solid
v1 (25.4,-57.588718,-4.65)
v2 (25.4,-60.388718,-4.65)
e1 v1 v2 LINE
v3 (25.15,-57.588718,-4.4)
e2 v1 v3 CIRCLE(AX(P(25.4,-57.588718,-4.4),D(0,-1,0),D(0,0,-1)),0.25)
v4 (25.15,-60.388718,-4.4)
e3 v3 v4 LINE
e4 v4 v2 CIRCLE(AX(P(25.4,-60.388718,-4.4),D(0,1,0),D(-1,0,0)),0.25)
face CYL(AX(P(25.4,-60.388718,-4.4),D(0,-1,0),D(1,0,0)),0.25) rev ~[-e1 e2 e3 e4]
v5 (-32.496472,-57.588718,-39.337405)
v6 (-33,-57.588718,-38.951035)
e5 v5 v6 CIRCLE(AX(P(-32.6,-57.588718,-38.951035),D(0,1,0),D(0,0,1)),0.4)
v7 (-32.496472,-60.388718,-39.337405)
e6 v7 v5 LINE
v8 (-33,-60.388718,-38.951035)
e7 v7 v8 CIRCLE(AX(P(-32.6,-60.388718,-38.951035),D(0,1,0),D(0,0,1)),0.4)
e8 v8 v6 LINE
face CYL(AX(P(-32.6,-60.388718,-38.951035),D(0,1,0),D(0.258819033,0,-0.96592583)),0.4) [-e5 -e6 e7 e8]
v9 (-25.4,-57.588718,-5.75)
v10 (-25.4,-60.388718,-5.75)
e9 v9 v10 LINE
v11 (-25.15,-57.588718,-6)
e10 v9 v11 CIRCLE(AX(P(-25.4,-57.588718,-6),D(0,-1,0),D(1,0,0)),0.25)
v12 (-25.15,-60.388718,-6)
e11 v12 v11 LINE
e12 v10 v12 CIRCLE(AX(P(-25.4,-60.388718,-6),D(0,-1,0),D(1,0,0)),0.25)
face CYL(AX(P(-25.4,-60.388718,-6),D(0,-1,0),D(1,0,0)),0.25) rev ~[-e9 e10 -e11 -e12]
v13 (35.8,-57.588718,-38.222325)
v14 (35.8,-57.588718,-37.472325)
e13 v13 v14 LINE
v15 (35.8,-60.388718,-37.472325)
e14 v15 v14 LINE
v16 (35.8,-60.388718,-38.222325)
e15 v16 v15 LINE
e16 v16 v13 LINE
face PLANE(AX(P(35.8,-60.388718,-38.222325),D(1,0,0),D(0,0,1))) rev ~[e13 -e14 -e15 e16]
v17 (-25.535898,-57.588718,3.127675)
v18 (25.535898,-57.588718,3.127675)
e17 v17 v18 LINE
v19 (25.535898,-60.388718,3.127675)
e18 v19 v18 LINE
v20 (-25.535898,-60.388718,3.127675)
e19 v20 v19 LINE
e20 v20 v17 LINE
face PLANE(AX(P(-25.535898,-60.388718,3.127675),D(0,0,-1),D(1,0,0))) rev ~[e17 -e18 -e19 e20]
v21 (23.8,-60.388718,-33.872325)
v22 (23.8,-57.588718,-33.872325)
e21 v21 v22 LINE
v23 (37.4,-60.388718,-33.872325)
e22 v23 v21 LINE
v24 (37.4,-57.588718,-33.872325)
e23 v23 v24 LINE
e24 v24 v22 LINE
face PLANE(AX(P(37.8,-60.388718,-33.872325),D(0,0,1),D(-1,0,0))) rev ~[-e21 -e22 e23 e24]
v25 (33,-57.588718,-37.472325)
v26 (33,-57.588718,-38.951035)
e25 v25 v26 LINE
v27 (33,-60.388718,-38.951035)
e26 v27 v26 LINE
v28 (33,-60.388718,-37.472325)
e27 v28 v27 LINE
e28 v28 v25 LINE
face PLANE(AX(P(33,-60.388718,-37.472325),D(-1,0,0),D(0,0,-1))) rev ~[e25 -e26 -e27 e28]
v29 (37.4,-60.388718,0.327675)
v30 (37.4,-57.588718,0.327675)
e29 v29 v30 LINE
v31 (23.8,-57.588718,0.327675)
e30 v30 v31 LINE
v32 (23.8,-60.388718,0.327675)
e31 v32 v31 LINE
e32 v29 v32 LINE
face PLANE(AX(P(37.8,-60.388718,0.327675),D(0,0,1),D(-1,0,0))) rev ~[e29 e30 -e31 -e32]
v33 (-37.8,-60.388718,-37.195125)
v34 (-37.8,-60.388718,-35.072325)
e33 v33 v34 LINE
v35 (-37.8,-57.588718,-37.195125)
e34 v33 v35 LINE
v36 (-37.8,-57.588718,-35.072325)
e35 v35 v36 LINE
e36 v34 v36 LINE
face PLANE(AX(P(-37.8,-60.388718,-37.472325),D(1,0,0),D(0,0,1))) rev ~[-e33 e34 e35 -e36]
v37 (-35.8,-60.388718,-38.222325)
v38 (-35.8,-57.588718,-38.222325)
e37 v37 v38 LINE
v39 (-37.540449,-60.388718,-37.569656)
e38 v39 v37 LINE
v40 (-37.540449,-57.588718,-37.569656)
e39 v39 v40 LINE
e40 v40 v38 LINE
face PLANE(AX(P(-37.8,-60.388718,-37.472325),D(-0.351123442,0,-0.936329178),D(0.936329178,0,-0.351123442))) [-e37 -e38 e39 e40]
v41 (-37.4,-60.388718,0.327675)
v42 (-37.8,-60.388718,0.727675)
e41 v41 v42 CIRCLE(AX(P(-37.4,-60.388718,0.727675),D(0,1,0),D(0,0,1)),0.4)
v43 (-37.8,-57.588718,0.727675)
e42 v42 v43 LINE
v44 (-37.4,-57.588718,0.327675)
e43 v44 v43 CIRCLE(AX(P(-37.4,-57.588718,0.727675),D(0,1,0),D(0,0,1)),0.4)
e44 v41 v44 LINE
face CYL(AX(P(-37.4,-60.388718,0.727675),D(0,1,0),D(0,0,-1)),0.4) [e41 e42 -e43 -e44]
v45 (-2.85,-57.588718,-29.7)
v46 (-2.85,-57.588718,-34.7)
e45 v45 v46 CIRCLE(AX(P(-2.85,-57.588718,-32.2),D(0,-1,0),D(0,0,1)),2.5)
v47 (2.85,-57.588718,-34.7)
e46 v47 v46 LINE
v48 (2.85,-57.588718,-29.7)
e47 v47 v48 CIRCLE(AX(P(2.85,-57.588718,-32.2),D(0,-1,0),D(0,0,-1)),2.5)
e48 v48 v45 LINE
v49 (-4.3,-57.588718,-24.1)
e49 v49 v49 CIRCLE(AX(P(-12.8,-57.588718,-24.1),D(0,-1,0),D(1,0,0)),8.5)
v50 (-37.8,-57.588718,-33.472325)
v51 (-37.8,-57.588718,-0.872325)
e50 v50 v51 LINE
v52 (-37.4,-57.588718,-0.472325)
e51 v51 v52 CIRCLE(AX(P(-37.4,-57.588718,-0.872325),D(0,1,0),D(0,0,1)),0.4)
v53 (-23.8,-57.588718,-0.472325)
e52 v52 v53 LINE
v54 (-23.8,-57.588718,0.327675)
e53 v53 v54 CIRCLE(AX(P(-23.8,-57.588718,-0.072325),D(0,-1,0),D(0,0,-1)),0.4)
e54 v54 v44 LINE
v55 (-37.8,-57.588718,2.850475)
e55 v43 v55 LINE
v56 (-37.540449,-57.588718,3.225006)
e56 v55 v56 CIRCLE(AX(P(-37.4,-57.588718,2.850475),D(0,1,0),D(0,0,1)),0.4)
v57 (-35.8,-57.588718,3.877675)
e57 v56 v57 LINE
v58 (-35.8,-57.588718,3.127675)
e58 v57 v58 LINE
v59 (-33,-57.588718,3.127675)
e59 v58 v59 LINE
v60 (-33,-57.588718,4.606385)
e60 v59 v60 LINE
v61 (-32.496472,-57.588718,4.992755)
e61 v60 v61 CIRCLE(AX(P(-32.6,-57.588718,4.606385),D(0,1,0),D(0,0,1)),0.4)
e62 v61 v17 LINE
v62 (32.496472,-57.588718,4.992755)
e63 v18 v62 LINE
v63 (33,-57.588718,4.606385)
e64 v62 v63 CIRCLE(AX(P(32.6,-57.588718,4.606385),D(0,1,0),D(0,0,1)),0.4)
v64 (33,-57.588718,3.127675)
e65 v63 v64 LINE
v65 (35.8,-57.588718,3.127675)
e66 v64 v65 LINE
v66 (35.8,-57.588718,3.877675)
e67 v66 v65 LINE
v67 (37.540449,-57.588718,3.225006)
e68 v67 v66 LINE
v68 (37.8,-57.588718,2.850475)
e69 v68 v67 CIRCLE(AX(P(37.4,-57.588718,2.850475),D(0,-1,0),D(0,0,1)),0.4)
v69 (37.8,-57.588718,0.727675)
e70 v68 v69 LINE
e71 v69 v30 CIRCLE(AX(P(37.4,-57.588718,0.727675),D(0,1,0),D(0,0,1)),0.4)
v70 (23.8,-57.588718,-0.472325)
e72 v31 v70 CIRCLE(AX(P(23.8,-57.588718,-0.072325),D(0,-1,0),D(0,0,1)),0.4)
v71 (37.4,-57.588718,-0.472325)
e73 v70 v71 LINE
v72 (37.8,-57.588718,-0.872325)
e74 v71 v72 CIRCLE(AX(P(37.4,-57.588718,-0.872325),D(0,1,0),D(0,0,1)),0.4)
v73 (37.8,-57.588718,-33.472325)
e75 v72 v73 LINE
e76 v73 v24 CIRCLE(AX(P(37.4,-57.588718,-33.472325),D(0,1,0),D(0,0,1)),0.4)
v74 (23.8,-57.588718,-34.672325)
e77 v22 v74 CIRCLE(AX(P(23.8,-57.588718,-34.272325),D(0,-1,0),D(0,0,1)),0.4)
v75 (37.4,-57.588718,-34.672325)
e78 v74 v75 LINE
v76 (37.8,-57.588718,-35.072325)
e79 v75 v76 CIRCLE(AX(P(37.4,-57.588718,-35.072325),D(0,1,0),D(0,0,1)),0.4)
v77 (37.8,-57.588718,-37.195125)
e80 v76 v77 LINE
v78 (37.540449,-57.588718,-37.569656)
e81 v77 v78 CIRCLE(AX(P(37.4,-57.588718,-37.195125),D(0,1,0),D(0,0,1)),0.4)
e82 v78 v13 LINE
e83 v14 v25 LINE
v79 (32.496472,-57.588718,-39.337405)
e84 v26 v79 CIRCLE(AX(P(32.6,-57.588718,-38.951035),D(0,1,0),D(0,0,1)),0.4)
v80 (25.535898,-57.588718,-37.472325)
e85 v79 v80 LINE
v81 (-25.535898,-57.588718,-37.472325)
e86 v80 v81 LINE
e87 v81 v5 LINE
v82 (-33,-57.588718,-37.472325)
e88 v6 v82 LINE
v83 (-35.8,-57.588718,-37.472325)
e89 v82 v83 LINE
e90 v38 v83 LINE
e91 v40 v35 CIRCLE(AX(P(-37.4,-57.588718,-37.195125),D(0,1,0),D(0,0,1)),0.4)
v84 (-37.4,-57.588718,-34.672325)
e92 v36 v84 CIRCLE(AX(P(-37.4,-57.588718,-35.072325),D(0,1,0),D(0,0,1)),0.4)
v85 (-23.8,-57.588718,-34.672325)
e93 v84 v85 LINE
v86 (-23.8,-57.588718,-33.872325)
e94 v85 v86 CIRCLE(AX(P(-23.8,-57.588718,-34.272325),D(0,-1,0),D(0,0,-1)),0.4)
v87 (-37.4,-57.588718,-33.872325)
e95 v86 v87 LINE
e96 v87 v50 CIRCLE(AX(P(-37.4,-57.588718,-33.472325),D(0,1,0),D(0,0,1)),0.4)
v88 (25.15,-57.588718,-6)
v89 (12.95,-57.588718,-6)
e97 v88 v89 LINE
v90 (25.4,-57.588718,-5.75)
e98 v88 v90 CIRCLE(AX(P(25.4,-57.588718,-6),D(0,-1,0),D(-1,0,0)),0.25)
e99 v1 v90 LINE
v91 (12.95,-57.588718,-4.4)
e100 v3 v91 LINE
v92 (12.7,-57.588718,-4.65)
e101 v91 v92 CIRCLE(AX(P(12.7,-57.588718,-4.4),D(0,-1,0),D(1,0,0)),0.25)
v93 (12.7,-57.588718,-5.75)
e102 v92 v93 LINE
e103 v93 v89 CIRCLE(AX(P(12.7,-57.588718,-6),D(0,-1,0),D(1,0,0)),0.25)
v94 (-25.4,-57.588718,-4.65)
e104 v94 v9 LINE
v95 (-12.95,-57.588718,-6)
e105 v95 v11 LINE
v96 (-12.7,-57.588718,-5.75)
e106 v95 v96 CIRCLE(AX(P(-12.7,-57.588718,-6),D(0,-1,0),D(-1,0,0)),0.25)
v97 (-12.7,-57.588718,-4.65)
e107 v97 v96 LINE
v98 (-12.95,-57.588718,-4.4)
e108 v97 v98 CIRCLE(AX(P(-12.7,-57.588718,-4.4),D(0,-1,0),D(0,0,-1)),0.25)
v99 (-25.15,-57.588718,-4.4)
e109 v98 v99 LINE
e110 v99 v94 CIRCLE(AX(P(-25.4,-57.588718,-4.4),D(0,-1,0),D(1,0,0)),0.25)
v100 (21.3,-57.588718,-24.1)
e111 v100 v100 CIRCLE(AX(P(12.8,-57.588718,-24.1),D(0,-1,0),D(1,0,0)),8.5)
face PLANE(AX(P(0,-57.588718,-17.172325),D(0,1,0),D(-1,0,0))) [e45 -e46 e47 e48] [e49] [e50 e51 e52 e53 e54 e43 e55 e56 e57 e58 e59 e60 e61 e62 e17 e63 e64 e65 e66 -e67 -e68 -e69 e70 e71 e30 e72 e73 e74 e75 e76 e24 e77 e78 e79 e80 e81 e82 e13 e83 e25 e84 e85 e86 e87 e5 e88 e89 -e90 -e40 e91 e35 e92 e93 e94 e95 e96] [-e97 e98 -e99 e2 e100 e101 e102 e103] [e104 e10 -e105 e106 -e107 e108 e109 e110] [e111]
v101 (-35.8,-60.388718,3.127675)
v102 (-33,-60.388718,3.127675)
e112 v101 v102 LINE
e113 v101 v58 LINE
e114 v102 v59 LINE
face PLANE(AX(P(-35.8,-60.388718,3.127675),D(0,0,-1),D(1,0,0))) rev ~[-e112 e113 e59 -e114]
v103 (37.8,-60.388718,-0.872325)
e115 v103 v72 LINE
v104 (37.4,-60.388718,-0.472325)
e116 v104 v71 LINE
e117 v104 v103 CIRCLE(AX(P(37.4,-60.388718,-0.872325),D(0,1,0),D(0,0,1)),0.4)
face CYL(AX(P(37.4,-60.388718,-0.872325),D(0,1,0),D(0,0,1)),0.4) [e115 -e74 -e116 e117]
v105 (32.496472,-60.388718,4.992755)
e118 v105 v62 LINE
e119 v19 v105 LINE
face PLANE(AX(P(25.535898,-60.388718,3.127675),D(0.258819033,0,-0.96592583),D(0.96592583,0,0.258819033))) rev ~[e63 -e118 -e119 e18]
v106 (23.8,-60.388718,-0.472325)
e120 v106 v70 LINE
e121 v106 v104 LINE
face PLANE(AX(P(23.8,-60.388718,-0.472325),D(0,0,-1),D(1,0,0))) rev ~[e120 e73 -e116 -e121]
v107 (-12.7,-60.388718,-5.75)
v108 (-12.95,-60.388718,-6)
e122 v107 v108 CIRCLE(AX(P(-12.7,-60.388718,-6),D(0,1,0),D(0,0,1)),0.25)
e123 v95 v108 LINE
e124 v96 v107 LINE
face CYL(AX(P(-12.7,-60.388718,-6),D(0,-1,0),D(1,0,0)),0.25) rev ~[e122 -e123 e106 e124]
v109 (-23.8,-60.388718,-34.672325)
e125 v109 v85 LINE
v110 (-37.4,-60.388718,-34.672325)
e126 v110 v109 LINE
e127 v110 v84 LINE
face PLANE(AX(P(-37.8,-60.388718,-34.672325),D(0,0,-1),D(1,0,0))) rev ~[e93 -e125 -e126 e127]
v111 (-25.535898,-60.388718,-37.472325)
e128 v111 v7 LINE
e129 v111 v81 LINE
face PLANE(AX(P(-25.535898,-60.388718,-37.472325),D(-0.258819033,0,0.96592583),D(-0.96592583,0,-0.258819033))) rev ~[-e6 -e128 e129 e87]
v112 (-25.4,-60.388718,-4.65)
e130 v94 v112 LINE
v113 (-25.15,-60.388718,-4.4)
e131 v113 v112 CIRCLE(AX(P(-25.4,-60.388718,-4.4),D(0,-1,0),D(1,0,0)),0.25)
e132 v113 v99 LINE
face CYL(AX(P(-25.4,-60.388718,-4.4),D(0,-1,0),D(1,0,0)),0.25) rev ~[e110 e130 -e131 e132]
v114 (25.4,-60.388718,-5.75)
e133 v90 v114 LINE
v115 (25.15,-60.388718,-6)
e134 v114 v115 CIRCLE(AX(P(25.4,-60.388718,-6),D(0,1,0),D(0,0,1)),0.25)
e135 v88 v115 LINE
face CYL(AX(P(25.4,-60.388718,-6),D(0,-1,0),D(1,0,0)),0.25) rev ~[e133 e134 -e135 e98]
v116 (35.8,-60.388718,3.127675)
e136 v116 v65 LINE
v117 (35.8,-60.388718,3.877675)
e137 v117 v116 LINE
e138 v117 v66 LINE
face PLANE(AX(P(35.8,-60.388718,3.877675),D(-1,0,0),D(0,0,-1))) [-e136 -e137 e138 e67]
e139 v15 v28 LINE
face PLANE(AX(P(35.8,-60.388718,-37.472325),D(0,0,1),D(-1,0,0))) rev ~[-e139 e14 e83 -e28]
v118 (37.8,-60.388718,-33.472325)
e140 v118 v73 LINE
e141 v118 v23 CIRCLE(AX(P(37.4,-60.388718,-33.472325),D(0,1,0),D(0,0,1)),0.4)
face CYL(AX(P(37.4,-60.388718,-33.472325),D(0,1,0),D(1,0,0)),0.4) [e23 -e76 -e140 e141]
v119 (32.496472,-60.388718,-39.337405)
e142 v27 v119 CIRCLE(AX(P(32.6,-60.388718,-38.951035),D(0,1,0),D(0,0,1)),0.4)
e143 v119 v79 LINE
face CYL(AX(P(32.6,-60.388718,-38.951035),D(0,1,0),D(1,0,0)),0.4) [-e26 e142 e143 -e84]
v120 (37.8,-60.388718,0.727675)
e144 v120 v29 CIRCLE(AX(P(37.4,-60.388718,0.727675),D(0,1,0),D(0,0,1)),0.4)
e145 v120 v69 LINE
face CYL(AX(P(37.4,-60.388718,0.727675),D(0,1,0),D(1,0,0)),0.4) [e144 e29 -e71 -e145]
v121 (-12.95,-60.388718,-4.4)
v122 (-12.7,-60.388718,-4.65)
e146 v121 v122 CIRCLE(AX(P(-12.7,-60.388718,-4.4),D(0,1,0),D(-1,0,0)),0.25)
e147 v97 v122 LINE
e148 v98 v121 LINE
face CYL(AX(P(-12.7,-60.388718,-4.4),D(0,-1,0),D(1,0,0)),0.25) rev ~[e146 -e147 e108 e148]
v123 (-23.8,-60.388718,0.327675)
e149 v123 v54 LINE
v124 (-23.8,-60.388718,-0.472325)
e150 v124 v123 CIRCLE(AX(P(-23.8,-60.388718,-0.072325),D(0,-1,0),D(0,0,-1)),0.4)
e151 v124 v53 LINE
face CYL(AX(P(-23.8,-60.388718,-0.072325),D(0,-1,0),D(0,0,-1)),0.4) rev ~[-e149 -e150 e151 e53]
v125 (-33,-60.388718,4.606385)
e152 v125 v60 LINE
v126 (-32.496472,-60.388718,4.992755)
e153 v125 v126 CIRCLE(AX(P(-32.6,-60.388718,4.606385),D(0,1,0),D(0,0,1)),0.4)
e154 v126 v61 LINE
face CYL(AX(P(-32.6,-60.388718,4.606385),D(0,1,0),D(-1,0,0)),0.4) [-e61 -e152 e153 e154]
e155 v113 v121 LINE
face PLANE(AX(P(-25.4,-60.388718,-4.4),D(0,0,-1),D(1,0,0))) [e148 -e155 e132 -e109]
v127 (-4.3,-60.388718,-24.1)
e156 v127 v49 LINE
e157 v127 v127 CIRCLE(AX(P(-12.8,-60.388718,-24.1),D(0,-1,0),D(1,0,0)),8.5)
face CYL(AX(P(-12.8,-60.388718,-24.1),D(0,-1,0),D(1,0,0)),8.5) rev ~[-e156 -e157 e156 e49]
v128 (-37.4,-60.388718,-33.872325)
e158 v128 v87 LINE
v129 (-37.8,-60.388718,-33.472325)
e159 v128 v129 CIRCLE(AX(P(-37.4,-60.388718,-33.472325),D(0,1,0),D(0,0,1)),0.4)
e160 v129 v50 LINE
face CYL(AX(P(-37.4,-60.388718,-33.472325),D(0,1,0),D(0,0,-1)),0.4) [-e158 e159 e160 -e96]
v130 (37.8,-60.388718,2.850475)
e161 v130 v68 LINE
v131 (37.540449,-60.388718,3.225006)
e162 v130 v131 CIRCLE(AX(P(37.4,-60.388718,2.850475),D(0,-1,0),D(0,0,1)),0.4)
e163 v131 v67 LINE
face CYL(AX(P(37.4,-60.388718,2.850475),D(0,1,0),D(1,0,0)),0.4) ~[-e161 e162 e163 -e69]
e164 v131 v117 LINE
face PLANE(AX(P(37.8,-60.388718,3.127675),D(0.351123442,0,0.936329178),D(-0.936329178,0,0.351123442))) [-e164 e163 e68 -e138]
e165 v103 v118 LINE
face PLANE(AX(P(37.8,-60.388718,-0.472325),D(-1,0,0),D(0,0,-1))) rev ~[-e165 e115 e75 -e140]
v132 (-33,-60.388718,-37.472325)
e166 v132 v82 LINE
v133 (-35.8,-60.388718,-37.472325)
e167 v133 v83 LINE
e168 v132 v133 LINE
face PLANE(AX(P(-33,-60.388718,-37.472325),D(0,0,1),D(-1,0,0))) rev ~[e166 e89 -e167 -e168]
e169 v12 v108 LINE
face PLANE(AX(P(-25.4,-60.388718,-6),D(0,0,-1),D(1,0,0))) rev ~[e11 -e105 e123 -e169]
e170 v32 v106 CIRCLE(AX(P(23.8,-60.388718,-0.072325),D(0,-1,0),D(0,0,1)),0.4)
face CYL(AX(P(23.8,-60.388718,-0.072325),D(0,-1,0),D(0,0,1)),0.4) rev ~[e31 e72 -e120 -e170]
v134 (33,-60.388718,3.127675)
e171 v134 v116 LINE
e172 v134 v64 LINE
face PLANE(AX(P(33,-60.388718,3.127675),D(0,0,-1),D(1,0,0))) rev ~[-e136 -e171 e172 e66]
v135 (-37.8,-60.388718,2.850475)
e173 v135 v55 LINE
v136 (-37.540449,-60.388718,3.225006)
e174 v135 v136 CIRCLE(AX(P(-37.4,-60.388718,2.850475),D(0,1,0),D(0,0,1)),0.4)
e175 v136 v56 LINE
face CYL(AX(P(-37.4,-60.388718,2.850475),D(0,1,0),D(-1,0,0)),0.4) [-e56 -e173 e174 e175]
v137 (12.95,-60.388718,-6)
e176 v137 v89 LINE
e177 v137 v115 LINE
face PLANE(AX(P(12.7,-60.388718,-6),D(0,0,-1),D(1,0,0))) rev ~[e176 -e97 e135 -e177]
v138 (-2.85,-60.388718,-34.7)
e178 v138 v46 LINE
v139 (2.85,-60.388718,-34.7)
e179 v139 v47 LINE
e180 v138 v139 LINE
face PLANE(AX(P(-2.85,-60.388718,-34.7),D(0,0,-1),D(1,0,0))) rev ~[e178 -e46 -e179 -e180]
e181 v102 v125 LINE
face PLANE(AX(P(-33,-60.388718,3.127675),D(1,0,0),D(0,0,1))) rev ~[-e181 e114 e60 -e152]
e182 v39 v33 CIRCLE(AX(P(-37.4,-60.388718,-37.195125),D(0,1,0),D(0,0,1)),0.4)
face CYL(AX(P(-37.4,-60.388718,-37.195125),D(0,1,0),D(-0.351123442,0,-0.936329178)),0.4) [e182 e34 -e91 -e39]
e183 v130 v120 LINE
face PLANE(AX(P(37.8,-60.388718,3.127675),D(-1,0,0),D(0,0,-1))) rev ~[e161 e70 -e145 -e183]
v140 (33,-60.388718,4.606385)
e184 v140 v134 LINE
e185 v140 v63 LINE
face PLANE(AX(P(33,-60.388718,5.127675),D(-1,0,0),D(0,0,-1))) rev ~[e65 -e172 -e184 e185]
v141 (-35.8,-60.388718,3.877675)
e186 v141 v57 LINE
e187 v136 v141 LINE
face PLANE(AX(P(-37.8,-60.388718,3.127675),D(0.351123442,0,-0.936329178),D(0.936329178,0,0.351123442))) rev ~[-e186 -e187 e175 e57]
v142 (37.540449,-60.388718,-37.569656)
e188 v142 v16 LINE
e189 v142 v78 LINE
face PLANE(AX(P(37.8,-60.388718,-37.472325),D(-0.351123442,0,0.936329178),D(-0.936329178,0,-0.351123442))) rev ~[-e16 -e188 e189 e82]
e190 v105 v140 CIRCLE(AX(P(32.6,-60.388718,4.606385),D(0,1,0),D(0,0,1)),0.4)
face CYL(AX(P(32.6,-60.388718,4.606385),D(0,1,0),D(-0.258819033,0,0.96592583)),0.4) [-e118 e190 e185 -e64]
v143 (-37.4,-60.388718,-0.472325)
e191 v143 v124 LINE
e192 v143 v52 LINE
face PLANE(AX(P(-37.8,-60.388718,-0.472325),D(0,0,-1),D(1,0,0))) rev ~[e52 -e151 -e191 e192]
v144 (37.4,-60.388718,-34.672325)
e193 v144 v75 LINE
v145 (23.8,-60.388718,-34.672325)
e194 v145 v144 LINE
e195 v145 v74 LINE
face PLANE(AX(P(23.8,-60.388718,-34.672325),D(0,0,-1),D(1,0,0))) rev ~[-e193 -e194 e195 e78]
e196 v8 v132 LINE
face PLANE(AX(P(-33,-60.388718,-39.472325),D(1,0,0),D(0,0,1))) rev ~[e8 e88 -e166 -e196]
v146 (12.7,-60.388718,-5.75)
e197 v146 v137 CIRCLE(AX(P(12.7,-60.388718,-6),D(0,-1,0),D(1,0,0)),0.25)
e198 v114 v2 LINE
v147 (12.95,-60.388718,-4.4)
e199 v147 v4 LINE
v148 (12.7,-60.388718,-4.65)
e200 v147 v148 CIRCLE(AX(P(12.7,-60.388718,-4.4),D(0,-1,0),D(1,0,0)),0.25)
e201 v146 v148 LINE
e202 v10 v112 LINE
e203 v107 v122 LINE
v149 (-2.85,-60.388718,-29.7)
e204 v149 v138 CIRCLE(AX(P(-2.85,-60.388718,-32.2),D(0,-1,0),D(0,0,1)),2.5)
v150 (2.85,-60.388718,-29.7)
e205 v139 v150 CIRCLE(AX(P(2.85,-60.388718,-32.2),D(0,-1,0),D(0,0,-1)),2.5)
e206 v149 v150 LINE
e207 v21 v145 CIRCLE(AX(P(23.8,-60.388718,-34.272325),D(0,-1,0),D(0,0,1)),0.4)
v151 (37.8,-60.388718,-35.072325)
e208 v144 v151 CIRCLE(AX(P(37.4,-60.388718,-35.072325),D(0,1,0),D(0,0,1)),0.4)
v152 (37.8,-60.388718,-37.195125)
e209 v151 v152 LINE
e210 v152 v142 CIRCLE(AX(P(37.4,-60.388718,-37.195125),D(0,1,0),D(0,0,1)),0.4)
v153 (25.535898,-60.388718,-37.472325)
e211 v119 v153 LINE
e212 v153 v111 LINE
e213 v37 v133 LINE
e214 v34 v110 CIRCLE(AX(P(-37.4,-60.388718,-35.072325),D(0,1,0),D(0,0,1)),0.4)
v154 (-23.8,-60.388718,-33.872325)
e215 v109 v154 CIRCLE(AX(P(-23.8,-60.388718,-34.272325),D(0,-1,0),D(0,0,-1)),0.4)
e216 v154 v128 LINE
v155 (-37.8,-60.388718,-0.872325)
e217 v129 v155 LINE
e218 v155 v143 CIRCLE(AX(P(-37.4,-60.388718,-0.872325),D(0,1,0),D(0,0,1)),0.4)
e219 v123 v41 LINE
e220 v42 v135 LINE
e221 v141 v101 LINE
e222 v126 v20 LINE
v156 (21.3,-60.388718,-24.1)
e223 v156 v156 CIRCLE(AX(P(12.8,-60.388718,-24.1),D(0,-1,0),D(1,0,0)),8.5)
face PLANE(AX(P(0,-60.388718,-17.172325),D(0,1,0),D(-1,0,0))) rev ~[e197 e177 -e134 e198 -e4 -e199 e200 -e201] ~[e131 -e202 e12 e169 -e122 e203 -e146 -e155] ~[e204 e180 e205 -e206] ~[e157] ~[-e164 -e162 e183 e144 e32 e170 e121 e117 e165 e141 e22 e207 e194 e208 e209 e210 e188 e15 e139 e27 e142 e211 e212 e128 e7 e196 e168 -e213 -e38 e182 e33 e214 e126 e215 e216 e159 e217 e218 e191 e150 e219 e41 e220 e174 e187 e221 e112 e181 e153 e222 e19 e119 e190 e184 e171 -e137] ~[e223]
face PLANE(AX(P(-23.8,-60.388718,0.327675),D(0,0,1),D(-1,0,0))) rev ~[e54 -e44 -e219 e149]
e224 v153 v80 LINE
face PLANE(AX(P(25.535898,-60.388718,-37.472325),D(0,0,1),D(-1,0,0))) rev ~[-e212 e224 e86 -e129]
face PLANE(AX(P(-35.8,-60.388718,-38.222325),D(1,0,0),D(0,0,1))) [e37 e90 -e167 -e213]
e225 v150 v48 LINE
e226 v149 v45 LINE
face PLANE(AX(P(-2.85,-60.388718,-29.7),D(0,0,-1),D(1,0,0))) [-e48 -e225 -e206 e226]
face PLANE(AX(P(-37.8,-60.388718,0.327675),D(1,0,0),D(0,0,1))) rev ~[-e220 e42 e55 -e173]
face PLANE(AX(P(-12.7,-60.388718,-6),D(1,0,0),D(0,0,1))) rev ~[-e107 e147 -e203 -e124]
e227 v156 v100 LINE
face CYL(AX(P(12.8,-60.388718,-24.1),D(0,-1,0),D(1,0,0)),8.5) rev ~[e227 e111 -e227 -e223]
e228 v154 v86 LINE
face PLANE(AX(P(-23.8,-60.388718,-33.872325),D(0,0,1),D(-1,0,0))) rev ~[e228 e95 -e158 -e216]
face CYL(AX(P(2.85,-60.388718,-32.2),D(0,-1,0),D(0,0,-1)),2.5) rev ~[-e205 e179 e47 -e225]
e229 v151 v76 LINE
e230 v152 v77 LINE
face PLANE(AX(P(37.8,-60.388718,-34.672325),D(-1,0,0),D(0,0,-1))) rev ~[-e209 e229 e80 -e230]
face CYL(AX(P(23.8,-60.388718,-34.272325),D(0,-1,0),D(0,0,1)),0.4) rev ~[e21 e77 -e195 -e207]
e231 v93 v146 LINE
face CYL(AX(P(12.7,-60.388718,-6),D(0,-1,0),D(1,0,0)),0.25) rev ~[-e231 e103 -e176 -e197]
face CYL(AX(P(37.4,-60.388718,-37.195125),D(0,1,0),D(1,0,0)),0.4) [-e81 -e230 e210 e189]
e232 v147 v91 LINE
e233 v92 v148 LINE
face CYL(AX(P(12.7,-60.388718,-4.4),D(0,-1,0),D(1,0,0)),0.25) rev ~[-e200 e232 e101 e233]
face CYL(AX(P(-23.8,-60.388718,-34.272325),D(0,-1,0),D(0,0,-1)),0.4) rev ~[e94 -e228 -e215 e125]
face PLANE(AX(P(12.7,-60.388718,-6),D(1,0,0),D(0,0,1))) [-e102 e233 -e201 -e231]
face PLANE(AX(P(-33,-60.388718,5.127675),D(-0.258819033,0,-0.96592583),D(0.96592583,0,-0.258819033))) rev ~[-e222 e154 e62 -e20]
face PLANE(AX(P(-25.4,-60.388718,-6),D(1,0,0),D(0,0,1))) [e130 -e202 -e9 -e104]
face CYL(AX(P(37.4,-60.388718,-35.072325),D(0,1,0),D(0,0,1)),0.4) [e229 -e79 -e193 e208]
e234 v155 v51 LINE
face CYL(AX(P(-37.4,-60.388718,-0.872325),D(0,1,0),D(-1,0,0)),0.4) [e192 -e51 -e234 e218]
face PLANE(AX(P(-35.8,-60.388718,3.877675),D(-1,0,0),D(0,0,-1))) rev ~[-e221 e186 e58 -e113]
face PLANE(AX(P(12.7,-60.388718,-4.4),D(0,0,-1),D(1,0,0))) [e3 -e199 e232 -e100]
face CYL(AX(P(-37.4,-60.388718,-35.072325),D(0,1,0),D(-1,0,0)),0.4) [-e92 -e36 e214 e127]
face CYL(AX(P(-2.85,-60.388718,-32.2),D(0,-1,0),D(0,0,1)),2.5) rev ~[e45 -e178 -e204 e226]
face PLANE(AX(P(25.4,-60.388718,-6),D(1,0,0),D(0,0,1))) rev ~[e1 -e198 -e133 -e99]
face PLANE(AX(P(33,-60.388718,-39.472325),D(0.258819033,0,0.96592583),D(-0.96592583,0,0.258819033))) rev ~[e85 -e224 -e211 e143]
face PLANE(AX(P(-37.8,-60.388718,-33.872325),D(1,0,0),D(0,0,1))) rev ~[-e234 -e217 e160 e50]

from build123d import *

# Parameters (mm, degrees)
PAD009_DEPTH    = 2.8
FILLET004_R     = 0.4
SKETCH025_W     = 12.7
SKETCH025_H     = 1.6
POCKET014_DEPTH = 2.801
SKETCH026_R     = 0.25
POCKET015_DEPTH = 2.801
SKETCH028_R     = 8.5
POCKET017_DEPTH = 2.801


with BuildPart() as part:
    # Sketch009 (on Face6 of ShapeBinder008) → Pad009 (new body)
    with BuildSketch(Plane.XZ.offset(60.388718)):
        with BuildLine():
            Line((37.8, 3.127675), (37.8, 0.327675))
            Line((37.8, 0.327675), (23.8, 0.327675))
            ThreePointArc((23.8, 0.327675), (23.4, -0.072325), (23.8, -0.472325))
            Line((23.8, -0.472325), (37.8, -0.472325))
            Line((37.8, -0.472325), (37.8, -33.872325))
            Line((37.8, -33.872325), (23.8, -33.872325))
            ThreePointArc((23.8, -33.872325), (23.4, -34.272325), (23.8, -34.672325))
            Line((23.8, -34.672325), (37.8, -34.672325))
            Line((37.8, -34.672325), (37.8, -37.472325))
            Line((37.8, -37.472325), (35.8, -38.222325))
            Line((35.8, -38.222325), (35.8, -37.472325))
            Line((35.8, -37.472325), (33, -37.472325))
            Line((33, -37.472325), (33, -39.472325))
            Line((33, -39.472325), (25.535898, -37.472325))
            Line((25.535898, -37.472325), (-25.535898, -37.472325))
            Line((-25.535898, -37.472325), (-33, -39.472325))
            Line((-33, -39.472325), (-33, -37.472325))
            Line((-33, -37.472325), (-35.8, -37.472325))
            Line((-35.8, -38.222325), (-35.8, -37.472325))
            Line((-37.8, -37.472325), (-35.8, -38.222325))
            Line((-37.8, -37.472325), (-37.8, -34.672325))
            Line((-37.8, -34.672325), (-23.8, -34.672325))
            ThreePointArc((-23.8, -34.672325), (-23.4, -34.272325), (-23.8, -33.872325))
            Line((-23.8, -33.872325), (-37.8, -33.872325))
            Line((-37.8, -33.872325), (-37.8, -0.472325))
            Line((-37.8, -0.472325), (-23.8, -0.472325))
            ThreePointArc((-23.8, -0.472325), (-23.4, -0.072325), (-23.8, 0.327675))
            Line((-23.8, 0.327675), (-37.8, 0.327675))
            Line((-37.8, 0.327675), (-37.8, 3.127675))
            Line((-37.8, 3.127675), (-35.8, 3.877675))
            Line((-35.8, 3.877675), (-35.8, 3.127675))
            Line((-35.8, 3.127675), (-33, 3.127675))
            Line((-33, 3.127675), (-33, 5.127675))
            Line((-33, 5.127675), (-25.535898, 3.127675))
            Line((-25.535898, 3.127675), (25.535898, 3.127675))
            Line((25.535898, 3.127675), (33, 5.127675))
            Line((33, 5.127675), (33, 3.127675))
            Line((33, 3.127675), (35.8, 3.127675))
            Line((35.8, 3.877675), (35.8, 3.127675))
            Line((37.8, 3.127675), (35.8, 3.877675))
        make_face()
    extrude(amount=-PAD009_DEPTH)

    # Fillet004
    fillet004_edges = [part.edges().sort_by_distance(p)[0] for p in [
        (33, -58.988718, 5.127675),
        (37.8, -58.988718, 3.127675),
        (37.8, -58.988718, 0.327675),
        (37.8, -58.988718, -0.472325),
        (37.8, -58.988718, -33.872325),
        (37.8, -58.988718, -34.672325),
        (37.8, -58.988718, -37.472325),
        (33, -58.988718, -39.472325),
        (-37.8, -58.988718, -33.872325),
        (-37.8, -58.988718, -34.672325),
        (-37.8, -58.988718, -37.472325),
        (-33, -58.988718, -39.472325),
        (-33, -58.988718, 5.127675),
        (-37.8, -58.988718, 3.127675),
        (-37.8, -58.988718, 0.327675),
        (-37.8, -58.988718, -0.472325),
    ]]
    fillet(fillet004_edges, radius=FILLET004_R)

    # Sketch025 (on Face2 of Fillet004) → Pocket014 (cut, through all)
    with BuildSketch(Plane.XZ.offset(60.388718)):
        with Locations((-19.05, -5.2)):
            Rectangle(SKETCH025_W, SKETCH025_H)
        with Locations((19.05, -5.2)):
            Rectangle(SKETCH025_W, SKETCH025_H)
    extrude(amount=-POCKET014_DEPTH, mode=Mode.SUBTRACT)

    # Sketch026 (on Face2 of Pocket014) → Pocket015 (cut, through all)
    with BuildSketch(Plane.XZ.offset(60.388718)):
        with Locations((-25.4, -4.4)):
            Circle(SKETCH026_R)
        with Locations((-12.7, -4.4)):
            Circle(SKETCH026_R)
        with Locations((-12.7, -6)):
            Circle(SKETCH026_R)
        with Locations((-25.4, -6)):
            Circle(SKETCH026_R)
        with Locations((12.7, -4.4)):
            Circle(SKETCH026_R)
        with Locations((12.7, -6)):
            Circle(SKETCH026_R)
        with Locations((25.4, -4.4)):
            Circle(SKETCH026_R)
        with Locations((25.4, -6)):
            Circle(SKETCH026_R)
    extrude(amount=-POCKET015_DEPTH, mode=Mode.SUBTRACT)

    # Sketch028 (on Face2 of Pocket015) → Pocket017 (cut, through all)
    with BuildSketch(Plane.XZ.offset(60.388718)):
        with Locations((-12.8, -24.1)):
            Circle(SKETCH028_R)
        with Locations((12.8, -24.1)):
            Circle(SKETCH028_R)
        with BuildLine():
            ThreePointArc((-2.85, -29.7), (-5.35, -32.2), (-2.85, -34.7))
            Line((-2.85, -34.7), (2.85, -34.7))
            ThreePointArc((2.85, -34.7), (5.35, -32.2), (2.85, -29.7))
            Line((-2.85, -29.7), (2.85, -29.7))
        make_face()
    extrude(amount=-POCKET017_DEPTH, mode=Mode.SUBTRACT)


solid = part.part
